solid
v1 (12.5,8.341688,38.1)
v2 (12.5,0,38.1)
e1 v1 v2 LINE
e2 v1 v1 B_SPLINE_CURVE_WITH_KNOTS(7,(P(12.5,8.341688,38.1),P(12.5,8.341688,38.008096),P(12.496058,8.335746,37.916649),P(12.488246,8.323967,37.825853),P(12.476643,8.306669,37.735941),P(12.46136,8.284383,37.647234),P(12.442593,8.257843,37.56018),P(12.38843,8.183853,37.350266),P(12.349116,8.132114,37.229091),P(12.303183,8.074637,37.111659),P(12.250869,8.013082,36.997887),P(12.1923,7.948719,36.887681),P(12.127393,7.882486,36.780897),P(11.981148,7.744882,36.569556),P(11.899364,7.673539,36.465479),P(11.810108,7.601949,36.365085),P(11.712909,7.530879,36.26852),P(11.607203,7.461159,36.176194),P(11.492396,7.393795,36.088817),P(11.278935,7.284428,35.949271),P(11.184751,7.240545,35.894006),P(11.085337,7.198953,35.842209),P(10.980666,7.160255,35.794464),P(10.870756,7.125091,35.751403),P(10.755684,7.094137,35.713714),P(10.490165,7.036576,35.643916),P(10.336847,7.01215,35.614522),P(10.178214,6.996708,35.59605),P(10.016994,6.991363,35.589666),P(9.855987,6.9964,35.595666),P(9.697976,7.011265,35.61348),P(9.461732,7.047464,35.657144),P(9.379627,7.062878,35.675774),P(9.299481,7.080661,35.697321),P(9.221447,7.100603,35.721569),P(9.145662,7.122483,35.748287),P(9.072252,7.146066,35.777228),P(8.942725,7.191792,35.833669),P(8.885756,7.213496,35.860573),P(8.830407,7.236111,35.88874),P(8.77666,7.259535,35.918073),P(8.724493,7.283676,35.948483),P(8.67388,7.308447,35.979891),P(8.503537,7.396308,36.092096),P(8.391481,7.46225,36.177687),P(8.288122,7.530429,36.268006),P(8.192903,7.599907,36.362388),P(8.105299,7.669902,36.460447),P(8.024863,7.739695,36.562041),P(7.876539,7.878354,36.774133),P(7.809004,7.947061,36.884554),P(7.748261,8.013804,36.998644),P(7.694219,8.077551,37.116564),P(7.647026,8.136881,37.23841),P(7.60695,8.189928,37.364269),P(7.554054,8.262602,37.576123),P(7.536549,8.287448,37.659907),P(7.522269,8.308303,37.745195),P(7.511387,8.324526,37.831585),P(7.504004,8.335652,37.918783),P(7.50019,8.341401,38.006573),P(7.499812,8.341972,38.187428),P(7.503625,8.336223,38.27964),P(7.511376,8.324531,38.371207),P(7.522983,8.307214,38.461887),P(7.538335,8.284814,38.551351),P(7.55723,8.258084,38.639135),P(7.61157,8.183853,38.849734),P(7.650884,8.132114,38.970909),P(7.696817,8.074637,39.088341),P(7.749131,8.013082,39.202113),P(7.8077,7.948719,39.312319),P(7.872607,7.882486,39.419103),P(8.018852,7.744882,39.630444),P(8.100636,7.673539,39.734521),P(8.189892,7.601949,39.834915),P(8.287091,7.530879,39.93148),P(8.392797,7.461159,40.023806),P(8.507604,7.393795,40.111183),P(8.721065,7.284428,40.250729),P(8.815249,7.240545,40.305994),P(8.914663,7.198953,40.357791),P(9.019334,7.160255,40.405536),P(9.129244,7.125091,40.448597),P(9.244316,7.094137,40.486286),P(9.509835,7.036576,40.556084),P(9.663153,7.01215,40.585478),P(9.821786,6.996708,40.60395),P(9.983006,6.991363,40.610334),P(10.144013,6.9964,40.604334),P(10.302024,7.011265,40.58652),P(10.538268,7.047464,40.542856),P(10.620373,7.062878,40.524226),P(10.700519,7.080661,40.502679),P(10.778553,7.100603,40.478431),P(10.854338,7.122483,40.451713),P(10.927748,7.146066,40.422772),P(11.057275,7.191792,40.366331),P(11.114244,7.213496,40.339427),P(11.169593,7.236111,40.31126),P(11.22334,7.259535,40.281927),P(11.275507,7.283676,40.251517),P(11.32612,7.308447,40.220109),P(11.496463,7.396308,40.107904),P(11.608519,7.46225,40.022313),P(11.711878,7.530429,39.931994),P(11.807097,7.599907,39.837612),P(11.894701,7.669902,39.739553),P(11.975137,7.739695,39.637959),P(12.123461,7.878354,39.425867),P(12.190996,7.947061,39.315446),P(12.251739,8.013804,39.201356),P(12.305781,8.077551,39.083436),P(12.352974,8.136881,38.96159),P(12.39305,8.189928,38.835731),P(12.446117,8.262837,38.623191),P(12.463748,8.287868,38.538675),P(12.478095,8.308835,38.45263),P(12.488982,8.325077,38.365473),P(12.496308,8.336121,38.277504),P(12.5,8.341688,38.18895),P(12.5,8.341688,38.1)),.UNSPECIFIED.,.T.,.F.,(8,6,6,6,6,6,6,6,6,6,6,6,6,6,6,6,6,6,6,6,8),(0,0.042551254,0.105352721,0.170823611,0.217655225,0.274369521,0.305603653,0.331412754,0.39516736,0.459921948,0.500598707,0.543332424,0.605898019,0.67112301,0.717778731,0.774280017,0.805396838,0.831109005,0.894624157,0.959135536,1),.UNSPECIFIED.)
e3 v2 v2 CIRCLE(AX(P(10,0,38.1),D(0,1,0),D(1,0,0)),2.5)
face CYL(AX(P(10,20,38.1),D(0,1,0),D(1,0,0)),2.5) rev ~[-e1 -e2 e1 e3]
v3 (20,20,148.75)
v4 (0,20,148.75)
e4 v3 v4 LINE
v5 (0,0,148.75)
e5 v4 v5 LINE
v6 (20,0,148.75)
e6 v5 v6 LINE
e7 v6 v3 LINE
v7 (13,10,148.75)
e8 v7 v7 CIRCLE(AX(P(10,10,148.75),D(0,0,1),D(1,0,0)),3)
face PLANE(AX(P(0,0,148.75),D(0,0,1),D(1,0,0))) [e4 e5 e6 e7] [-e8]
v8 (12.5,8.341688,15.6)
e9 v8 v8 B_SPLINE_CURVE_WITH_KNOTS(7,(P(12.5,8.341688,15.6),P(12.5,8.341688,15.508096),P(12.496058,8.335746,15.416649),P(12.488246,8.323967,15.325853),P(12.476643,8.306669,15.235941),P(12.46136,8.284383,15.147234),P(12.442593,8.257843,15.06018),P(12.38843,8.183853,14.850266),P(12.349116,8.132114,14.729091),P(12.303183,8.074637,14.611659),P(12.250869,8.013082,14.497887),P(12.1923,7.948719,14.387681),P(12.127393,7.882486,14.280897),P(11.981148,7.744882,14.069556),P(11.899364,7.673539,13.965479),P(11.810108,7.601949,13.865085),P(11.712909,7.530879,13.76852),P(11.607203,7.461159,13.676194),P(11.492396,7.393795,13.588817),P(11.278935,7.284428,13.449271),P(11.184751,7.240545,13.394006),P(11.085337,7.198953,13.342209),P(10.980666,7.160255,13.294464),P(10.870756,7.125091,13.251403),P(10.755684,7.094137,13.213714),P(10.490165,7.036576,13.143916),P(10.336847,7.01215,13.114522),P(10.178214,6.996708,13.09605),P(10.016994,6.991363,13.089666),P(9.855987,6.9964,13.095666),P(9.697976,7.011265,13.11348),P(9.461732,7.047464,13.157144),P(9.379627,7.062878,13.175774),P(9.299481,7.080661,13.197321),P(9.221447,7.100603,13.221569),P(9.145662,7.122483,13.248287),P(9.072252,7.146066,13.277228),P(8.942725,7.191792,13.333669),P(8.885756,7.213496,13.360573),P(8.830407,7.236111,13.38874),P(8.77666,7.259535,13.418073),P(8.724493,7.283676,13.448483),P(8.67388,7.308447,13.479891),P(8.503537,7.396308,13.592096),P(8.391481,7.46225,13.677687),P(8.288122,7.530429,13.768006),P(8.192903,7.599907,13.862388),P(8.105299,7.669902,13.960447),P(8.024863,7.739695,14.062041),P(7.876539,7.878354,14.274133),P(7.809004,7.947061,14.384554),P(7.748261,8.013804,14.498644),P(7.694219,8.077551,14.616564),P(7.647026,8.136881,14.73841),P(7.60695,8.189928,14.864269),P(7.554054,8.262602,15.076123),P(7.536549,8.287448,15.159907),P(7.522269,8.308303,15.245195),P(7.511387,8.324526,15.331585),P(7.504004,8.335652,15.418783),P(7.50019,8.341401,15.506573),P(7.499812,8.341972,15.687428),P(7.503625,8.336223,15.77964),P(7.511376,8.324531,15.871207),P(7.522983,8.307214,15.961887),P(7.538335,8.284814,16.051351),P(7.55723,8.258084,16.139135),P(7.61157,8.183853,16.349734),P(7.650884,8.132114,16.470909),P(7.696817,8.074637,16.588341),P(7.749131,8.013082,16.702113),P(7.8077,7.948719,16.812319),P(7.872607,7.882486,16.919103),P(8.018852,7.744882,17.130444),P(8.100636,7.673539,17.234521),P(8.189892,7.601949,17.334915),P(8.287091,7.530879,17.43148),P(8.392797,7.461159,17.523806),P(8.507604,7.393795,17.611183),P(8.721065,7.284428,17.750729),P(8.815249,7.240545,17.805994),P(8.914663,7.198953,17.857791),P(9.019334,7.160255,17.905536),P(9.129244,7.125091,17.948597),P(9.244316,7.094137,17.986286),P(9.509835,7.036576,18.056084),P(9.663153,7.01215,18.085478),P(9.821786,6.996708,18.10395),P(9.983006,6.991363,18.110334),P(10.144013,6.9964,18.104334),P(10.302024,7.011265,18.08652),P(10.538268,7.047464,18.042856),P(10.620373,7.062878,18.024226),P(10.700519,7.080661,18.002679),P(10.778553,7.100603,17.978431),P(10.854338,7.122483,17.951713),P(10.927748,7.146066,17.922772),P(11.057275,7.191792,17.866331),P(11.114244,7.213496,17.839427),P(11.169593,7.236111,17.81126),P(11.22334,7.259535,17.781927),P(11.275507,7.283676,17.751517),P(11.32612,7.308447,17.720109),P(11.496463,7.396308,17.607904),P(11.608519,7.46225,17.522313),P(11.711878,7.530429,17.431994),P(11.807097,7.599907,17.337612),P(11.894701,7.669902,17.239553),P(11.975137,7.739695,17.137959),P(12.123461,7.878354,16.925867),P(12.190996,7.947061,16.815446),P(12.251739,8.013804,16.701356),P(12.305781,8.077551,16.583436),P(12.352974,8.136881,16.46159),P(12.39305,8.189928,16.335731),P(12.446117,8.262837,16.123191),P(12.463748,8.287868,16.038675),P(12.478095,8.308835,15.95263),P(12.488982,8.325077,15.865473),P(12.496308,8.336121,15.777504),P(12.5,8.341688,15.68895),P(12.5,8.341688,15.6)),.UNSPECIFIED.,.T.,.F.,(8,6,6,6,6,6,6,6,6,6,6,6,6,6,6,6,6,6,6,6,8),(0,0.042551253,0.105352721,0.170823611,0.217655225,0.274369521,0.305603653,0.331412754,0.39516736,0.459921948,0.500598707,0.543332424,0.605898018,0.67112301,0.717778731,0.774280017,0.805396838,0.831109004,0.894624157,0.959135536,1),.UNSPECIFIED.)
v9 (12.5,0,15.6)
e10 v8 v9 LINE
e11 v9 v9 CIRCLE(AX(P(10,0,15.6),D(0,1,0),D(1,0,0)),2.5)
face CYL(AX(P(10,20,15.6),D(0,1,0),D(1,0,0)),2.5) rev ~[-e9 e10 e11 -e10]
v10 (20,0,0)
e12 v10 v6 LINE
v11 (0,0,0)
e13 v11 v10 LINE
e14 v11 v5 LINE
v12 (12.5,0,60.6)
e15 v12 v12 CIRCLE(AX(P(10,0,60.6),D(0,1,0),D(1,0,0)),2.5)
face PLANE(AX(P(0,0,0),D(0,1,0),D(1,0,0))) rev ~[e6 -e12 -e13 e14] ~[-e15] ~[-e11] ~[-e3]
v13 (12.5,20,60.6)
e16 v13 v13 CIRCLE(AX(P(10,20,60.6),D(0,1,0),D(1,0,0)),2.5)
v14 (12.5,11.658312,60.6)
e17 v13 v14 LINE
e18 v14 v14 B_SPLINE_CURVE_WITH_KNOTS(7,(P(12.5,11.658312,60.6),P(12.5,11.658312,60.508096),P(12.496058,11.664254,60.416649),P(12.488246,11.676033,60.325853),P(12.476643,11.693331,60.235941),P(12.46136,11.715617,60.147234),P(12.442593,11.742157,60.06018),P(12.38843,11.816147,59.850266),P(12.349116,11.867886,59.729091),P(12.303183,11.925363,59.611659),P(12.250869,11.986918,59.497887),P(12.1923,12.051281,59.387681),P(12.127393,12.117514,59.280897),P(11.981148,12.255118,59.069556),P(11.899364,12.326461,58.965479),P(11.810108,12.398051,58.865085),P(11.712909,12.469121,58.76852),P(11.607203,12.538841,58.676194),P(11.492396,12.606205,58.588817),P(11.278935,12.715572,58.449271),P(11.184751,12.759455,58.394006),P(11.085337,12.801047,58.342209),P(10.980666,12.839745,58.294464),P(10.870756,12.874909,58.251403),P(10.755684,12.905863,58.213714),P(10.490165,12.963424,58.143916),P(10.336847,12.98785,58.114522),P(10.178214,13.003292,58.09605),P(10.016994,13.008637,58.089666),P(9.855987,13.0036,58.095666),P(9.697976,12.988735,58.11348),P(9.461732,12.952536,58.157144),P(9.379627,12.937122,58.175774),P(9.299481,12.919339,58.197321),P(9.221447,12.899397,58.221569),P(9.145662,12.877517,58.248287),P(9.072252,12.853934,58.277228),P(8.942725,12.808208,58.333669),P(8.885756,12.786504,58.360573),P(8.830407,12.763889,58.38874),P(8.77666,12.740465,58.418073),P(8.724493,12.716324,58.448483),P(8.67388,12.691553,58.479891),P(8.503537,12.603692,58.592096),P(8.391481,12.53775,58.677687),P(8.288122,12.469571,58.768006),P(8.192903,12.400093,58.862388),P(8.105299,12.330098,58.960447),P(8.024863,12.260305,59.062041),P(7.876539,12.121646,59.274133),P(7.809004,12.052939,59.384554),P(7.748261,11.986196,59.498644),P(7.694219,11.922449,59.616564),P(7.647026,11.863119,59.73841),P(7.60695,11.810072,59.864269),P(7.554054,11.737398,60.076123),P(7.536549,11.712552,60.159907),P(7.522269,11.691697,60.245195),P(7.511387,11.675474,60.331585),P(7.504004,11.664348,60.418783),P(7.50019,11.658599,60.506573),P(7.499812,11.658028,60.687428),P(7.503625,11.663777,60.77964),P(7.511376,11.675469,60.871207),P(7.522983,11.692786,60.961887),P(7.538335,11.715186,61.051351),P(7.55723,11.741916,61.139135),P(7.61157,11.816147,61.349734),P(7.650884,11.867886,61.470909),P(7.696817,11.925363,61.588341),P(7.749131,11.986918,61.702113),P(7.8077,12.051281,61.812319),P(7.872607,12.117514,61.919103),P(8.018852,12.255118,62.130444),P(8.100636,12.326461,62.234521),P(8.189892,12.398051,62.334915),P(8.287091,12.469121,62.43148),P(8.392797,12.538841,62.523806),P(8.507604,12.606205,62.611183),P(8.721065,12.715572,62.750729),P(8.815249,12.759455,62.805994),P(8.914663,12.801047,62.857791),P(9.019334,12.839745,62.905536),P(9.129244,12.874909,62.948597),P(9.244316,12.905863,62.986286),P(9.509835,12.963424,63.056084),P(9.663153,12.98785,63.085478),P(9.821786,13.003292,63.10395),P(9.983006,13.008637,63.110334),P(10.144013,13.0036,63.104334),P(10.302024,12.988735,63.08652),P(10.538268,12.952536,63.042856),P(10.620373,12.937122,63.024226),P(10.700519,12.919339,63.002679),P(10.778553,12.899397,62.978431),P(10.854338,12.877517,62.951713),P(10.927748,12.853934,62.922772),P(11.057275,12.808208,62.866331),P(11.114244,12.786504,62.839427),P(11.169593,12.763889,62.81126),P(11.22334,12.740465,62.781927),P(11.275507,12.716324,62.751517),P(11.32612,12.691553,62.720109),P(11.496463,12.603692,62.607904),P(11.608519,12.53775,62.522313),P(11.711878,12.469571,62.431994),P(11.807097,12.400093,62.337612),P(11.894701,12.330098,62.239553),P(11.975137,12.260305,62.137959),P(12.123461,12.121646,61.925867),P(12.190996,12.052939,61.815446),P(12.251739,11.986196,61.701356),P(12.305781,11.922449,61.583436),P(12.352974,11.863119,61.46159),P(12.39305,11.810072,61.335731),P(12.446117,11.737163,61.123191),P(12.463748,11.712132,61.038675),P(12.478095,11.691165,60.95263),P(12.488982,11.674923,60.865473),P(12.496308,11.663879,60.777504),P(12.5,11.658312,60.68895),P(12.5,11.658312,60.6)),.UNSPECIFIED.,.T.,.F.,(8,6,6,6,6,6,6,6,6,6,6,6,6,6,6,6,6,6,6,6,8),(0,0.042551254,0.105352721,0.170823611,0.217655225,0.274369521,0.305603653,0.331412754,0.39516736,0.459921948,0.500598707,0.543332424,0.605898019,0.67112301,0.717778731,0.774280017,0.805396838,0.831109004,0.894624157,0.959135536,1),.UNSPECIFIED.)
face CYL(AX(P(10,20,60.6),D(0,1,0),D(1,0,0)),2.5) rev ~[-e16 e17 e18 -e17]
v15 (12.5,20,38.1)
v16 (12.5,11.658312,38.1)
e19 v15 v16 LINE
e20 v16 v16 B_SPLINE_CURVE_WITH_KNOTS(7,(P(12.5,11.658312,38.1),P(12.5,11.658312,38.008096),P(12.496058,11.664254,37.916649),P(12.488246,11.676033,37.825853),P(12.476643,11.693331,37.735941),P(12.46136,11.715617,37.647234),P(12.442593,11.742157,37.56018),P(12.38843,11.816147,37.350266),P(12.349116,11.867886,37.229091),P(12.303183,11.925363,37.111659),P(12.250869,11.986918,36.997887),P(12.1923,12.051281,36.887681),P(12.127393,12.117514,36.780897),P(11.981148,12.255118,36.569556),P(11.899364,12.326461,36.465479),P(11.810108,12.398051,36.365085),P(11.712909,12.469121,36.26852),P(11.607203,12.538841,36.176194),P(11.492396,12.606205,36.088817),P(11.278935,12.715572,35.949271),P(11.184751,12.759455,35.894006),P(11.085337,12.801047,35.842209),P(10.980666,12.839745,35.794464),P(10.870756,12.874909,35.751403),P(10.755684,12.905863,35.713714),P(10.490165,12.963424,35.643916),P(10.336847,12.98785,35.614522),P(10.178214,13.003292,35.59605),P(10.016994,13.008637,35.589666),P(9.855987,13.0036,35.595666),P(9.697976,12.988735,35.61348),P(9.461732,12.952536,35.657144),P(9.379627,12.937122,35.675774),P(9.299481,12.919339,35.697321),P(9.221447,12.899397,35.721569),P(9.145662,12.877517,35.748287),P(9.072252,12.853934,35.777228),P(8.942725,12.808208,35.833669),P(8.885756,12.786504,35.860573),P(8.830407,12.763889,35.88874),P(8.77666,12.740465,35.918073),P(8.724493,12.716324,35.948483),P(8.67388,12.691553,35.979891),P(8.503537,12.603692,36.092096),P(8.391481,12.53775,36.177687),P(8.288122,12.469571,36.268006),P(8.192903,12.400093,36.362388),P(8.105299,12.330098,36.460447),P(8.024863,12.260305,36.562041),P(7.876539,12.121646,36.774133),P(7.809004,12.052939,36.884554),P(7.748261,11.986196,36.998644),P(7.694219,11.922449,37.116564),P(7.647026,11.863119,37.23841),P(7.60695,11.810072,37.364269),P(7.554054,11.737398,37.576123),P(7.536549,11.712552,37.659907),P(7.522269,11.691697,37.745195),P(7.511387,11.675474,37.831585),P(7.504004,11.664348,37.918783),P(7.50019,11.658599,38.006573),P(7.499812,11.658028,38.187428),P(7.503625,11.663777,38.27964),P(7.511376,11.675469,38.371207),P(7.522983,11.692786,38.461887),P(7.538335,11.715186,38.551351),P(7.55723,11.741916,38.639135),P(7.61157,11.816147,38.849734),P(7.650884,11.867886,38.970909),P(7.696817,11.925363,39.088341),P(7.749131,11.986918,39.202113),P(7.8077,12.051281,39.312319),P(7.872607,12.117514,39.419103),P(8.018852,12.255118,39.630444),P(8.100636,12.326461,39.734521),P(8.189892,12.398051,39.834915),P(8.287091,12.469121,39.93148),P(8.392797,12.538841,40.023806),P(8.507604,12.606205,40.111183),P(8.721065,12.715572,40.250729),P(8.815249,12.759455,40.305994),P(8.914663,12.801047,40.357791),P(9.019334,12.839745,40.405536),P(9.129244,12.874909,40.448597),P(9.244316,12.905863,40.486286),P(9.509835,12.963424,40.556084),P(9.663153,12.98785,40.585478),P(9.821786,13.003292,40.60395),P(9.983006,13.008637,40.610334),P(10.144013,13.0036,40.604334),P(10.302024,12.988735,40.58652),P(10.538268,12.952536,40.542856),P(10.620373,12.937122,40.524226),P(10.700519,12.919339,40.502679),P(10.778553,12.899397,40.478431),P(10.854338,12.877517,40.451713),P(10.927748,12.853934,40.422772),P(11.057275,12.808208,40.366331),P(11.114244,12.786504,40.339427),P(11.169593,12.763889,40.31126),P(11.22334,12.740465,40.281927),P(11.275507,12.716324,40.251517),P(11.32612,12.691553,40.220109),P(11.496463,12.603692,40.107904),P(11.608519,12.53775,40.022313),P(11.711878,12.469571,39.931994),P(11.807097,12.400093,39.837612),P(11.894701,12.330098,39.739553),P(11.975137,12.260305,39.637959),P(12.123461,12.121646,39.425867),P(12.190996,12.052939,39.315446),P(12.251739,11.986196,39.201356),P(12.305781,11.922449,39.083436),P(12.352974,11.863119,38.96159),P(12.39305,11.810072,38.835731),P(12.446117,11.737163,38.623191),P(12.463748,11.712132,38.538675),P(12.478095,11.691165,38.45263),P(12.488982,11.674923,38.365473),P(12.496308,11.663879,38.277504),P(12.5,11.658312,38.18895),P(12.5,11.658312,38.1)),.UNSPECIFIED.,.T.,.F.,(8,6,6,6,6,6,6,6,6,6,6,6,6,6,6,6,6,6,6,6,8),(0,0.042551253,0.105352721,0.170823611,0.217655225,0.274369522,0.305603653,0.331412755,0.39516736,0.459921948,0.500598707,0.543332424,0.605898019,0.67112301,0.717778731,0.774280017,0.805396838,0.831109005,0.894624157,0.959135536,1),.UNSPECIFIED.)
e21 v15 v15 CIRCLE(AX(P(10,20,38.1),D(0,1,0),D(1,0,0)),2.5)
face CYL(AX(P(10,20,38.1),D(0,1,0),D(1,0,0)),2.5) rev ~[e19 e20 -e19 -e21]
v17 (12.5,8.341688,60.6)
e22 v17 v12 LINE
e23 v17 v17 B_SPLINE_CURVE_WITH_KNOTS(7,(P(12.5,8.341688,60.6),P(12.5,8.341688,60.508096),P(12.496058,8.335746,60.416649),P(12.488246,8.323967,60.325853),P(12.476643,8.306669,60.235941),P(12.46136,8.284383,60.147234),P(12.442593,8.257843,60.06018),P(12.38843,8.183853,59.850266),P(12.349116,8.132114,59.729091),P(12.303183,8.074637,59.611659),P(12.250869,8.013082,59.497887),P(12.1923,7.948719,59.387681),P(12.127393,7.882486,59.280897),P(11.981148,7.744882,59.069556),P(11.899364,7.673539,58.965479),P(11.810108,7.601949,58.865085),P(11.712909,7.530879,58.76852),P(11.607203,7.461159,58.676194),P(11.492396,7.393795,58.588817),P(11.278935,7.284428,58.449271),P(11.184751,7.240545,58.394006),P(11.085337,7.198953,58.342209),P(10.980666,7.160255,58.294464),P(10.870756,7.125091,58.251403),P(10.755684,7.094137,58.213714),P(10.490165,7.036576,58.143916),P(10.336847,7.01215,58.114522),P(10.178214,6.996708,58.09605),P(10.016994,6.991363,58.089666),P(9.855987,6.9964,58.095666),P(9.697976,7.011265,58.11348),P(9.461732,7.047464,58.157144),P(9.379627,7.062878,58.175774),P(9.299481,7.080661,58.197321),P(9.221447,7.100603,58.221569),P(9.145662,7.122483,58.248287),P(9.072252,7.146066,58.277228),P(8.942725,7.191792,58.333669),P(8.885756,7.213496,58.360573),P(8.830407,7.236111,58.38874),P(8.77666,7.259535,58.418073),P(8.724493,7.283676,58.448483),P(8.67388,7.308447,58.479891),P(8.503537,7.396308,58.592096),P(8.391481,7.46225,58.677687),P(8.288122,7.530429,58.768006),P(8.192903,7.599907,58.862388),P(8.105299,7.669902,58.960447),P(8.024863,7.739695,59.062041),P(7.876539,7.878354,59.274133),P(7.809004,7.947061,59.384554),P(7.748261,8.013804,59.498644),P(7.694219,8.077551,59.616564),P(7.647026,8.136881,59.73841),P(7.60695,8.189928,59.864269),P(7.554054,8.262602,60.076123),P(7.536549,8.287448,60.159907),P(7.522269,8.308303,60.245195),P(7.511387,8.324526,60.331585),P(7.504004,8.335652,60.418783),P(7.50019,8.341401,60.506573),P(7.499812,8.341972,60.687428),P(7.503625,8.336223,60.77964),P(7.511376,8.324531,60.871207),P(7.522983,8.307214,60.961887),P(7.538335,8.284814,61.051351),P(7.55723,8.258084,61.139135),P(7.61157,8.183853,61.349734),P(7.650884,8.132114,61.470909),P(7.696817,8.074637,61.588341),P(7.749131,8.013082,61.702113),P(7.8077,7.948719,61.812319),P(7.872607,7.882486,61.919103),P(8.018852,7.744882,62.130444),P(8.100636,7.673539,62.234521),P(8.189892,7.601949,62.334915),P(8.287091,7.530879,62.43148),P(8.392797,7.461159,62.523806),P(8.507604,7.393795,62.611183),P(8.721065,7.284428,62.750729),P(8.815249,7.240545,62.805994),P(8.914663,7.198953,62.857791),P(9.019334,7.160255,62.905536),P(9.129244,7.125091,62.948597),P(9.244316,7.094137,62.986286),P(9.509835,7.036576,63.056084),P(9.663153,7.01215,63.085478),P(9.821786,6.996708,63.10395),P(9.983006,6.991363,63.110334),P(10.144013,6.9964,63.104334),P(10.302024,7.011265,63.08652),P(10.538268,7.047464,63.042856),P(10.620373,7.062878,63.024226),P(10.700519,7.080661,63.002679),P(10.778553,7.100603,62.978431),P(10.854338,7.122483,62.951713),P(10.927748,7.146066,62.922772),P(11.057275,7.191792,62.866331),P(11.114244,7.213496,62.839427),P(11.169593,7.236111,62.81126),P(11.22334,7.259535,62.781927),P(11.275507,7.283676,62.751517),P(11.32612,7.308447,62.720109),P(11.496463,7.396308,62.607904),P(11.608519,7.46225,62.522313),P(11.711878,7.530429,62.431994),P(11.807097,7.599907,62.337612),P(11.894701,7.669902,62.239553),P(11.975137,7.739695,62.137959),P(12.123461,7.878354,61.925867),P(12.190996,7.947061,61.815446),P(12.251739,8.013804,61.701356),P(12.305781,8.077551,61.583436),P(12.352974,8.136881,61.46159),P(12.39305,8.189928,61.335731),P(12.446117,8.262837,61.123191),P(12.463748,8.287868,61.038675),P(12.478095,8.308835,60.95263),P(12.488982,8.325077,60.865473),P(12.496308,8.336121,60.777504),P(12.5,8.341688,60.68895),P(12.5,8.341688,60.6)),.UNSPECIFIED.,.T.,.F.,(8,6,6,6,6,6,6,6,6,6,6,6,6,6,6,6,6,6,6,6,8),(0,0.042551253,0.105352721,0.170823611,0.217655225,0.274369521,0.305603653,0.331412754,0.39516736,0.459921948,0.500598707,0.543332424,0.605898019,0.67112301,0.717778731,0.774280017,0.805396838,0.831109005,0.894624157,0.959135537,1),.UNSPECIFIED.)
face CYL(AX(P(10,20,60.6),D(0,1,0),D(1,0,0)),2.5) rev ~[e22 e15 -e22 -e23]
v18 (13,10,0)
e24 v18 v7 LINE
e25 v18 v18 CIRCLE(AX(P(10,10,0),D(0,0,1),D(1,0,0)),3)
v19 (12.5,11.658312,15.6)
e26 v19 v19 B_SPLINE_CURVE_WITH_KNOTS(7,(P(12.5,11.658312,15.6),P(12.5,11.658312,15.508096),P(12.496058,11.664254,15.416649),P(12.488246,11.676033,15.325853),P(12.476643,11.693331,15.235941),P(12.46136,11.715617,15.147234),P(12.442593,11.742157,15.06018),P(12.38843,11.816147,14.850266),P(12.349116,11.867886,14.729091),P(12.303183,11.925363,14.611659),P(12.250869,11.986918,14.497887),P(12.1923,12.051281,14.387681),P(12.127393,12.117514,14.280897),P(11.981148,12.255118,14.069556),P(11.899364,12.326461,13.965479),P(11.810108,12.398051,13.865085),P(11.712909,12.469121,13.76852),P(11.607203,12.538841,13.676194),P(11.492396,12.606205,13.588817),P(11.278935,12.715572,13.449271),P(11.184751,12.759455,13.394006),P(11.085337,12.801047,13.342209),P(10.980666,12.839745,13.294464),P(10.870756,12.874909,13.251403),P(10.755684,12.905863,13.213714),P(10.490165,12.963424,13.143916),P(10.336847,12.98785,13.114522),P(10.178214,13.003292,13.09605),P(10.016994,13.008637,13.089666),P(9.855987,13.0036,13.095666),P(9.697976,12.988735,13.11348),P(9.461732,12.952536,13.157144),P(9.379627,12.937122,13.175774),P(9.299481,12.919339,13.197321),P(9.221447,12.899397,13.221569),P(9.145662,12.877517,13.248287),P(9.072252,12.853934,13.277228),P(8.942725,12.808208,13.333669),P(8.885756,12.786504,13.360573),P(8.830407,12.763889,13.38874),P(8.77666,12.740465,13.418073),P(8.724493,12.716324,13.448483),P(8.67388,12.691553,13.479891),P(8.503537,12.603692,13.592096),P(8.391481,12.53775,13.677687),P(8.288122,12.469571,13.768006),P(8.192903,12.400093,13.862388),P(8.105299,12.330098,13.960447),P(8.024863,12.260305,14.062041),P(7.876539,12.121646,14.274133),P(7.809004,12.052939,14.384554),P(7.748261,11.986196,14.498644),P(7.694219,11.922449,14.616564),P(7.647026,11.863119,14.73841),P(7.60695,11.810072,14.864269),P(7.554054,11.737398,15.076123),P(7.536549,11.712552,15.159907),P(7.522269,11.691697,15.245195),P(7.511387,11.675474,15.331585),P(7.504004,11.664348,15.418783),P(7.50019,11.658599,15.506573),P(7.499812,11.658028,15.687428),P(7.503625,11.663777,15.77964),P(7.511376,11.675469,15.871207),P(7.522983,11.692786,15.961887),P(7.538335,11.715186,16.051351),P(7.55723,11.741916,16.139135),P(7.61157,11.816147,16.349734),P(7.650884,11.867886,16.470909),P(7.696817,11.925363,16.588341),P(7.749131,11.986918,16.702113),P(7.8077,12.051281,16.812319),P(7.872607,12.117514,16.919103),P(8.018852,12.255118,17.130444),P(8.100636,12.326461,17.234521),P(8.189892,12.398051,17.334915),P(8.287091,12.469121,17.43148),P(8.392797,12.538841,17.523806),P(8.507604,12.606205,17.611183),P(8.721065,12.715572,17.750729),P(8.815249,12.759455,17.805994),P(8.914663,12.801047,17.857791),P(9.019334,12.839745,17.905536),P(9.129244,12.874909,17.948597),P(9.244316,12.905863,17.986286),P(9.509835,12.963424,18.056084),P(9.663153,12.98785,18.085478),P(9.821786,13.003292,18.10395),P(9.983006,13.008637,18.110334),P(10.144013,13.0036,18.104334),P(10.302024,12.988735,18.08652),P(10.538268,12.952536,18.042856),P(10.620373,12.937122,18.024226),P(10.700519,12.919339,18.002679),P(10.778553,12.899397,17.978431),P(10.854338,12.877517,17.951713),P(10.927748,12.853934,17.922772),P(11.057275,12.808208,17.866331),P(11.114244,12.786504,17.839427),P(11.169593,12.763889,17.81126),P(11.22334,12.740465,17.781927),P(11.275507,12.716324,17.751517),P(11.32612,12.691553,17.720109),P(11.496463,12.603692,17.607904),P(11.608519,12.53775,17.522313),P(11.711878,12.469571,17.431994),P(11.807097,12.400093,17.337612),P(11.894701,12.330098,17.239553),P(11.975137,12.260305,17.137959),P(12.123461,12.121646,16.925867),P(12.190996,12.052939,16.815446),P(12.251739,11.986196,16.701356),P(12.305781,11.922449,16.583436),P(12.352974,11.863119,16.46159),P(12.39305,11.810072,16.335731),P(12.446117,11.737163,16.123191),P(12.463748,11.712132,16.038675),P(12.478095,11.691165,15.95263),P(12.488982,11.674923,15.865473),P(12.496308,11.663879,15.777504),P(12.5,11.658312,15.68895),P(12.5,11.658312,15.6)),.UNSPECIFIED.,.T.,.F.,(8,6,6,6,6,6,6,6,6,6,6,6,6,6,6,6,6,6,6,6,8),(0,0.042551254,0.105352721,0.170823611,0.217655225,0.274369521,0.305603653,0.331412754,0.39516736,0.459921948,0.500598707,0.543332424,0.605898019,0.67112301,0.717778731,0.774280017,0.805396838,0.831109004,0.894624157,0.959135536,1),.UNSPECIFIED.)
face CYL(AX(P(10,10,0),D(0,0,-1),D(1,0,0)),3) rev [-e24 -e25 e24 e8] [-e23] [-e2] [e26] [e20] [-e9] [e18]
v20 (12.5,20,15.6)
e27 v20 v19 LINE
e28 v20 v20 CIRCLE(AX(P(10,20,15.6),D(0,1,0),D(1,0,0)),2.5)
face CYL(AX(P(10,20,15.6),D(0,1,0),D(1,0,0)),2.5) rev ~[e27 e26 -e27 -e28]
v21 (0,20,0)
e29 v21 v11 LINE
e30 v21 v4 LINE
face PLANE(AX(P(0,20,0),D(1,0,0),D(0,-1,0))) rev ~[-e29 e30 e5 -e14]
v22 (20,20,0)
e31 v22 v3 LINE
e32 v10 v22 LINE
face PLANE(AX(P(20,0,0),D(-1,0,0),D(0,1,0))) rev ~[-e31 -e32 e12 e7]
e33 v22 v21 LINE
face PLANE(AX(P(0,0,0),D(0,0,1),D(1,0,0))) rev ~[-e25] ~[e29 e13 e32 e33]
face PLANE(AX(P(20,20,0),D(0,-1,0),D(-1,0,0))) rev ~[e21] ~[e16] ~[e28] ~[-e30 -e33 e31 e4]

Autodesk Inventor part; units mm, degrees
ref_plane "YZ Plane" through (0, 0, 0) normal (1, 0, 0) x (0, 1, 0)
ref_plane "XZ Plane" through (0, 0, 0) normal (0, 1, 0) x (-1, 0, 0)
ref_plane "XY Plane" through (0, 0, 0) normal (0, 0, 1) x (1, 0, 0)
sketch "Sketch1" plane through (0, 0, 0) normal (0, 0, 1) x (1, 0, 0)
  line L0 (0, 0) -> (20, 0)
  line L1 (20, 0) -> (20, 20)
  line L2 (20, 20) -> (0, 20)
  line L3 (0, 20) -> (0, 0)
  circle A0 centre (10, 10) radius 3
  point P0 (10, 20)
  point P1 (20, 10)
  dimension "d0" = 20
  dimension "d1" = 20
  dimension "d2" = 6
extrude "Extrusion1" add sketch "Sketch1" along normal blind 148.75
sketch "Sketch2" plane through (0, 20, 0) normal (0, 1, 0) x (1, 0, 0)
  circle A0 centre (10, -15.6) radius 2.5
  circle A1 centre (10, -38.1) radius 2.5
  circle A2 centre (10, -60.6) radius 2.5
  line L0 (20, 0) -> (0, 0) projected
  point P0 (10, 0)
  dimension "d5" = 5
  dimension "d6" = 5
  dimension "d7" = 5
  dimension "d8" = 15.6
  dimension "d9" = 22.5
  dimension "d10" = 22.5
extrude "Extrusion2" cut sketch "Sketch2" against normal through all
properties part number "AE01" material "Aluminum 6061"
